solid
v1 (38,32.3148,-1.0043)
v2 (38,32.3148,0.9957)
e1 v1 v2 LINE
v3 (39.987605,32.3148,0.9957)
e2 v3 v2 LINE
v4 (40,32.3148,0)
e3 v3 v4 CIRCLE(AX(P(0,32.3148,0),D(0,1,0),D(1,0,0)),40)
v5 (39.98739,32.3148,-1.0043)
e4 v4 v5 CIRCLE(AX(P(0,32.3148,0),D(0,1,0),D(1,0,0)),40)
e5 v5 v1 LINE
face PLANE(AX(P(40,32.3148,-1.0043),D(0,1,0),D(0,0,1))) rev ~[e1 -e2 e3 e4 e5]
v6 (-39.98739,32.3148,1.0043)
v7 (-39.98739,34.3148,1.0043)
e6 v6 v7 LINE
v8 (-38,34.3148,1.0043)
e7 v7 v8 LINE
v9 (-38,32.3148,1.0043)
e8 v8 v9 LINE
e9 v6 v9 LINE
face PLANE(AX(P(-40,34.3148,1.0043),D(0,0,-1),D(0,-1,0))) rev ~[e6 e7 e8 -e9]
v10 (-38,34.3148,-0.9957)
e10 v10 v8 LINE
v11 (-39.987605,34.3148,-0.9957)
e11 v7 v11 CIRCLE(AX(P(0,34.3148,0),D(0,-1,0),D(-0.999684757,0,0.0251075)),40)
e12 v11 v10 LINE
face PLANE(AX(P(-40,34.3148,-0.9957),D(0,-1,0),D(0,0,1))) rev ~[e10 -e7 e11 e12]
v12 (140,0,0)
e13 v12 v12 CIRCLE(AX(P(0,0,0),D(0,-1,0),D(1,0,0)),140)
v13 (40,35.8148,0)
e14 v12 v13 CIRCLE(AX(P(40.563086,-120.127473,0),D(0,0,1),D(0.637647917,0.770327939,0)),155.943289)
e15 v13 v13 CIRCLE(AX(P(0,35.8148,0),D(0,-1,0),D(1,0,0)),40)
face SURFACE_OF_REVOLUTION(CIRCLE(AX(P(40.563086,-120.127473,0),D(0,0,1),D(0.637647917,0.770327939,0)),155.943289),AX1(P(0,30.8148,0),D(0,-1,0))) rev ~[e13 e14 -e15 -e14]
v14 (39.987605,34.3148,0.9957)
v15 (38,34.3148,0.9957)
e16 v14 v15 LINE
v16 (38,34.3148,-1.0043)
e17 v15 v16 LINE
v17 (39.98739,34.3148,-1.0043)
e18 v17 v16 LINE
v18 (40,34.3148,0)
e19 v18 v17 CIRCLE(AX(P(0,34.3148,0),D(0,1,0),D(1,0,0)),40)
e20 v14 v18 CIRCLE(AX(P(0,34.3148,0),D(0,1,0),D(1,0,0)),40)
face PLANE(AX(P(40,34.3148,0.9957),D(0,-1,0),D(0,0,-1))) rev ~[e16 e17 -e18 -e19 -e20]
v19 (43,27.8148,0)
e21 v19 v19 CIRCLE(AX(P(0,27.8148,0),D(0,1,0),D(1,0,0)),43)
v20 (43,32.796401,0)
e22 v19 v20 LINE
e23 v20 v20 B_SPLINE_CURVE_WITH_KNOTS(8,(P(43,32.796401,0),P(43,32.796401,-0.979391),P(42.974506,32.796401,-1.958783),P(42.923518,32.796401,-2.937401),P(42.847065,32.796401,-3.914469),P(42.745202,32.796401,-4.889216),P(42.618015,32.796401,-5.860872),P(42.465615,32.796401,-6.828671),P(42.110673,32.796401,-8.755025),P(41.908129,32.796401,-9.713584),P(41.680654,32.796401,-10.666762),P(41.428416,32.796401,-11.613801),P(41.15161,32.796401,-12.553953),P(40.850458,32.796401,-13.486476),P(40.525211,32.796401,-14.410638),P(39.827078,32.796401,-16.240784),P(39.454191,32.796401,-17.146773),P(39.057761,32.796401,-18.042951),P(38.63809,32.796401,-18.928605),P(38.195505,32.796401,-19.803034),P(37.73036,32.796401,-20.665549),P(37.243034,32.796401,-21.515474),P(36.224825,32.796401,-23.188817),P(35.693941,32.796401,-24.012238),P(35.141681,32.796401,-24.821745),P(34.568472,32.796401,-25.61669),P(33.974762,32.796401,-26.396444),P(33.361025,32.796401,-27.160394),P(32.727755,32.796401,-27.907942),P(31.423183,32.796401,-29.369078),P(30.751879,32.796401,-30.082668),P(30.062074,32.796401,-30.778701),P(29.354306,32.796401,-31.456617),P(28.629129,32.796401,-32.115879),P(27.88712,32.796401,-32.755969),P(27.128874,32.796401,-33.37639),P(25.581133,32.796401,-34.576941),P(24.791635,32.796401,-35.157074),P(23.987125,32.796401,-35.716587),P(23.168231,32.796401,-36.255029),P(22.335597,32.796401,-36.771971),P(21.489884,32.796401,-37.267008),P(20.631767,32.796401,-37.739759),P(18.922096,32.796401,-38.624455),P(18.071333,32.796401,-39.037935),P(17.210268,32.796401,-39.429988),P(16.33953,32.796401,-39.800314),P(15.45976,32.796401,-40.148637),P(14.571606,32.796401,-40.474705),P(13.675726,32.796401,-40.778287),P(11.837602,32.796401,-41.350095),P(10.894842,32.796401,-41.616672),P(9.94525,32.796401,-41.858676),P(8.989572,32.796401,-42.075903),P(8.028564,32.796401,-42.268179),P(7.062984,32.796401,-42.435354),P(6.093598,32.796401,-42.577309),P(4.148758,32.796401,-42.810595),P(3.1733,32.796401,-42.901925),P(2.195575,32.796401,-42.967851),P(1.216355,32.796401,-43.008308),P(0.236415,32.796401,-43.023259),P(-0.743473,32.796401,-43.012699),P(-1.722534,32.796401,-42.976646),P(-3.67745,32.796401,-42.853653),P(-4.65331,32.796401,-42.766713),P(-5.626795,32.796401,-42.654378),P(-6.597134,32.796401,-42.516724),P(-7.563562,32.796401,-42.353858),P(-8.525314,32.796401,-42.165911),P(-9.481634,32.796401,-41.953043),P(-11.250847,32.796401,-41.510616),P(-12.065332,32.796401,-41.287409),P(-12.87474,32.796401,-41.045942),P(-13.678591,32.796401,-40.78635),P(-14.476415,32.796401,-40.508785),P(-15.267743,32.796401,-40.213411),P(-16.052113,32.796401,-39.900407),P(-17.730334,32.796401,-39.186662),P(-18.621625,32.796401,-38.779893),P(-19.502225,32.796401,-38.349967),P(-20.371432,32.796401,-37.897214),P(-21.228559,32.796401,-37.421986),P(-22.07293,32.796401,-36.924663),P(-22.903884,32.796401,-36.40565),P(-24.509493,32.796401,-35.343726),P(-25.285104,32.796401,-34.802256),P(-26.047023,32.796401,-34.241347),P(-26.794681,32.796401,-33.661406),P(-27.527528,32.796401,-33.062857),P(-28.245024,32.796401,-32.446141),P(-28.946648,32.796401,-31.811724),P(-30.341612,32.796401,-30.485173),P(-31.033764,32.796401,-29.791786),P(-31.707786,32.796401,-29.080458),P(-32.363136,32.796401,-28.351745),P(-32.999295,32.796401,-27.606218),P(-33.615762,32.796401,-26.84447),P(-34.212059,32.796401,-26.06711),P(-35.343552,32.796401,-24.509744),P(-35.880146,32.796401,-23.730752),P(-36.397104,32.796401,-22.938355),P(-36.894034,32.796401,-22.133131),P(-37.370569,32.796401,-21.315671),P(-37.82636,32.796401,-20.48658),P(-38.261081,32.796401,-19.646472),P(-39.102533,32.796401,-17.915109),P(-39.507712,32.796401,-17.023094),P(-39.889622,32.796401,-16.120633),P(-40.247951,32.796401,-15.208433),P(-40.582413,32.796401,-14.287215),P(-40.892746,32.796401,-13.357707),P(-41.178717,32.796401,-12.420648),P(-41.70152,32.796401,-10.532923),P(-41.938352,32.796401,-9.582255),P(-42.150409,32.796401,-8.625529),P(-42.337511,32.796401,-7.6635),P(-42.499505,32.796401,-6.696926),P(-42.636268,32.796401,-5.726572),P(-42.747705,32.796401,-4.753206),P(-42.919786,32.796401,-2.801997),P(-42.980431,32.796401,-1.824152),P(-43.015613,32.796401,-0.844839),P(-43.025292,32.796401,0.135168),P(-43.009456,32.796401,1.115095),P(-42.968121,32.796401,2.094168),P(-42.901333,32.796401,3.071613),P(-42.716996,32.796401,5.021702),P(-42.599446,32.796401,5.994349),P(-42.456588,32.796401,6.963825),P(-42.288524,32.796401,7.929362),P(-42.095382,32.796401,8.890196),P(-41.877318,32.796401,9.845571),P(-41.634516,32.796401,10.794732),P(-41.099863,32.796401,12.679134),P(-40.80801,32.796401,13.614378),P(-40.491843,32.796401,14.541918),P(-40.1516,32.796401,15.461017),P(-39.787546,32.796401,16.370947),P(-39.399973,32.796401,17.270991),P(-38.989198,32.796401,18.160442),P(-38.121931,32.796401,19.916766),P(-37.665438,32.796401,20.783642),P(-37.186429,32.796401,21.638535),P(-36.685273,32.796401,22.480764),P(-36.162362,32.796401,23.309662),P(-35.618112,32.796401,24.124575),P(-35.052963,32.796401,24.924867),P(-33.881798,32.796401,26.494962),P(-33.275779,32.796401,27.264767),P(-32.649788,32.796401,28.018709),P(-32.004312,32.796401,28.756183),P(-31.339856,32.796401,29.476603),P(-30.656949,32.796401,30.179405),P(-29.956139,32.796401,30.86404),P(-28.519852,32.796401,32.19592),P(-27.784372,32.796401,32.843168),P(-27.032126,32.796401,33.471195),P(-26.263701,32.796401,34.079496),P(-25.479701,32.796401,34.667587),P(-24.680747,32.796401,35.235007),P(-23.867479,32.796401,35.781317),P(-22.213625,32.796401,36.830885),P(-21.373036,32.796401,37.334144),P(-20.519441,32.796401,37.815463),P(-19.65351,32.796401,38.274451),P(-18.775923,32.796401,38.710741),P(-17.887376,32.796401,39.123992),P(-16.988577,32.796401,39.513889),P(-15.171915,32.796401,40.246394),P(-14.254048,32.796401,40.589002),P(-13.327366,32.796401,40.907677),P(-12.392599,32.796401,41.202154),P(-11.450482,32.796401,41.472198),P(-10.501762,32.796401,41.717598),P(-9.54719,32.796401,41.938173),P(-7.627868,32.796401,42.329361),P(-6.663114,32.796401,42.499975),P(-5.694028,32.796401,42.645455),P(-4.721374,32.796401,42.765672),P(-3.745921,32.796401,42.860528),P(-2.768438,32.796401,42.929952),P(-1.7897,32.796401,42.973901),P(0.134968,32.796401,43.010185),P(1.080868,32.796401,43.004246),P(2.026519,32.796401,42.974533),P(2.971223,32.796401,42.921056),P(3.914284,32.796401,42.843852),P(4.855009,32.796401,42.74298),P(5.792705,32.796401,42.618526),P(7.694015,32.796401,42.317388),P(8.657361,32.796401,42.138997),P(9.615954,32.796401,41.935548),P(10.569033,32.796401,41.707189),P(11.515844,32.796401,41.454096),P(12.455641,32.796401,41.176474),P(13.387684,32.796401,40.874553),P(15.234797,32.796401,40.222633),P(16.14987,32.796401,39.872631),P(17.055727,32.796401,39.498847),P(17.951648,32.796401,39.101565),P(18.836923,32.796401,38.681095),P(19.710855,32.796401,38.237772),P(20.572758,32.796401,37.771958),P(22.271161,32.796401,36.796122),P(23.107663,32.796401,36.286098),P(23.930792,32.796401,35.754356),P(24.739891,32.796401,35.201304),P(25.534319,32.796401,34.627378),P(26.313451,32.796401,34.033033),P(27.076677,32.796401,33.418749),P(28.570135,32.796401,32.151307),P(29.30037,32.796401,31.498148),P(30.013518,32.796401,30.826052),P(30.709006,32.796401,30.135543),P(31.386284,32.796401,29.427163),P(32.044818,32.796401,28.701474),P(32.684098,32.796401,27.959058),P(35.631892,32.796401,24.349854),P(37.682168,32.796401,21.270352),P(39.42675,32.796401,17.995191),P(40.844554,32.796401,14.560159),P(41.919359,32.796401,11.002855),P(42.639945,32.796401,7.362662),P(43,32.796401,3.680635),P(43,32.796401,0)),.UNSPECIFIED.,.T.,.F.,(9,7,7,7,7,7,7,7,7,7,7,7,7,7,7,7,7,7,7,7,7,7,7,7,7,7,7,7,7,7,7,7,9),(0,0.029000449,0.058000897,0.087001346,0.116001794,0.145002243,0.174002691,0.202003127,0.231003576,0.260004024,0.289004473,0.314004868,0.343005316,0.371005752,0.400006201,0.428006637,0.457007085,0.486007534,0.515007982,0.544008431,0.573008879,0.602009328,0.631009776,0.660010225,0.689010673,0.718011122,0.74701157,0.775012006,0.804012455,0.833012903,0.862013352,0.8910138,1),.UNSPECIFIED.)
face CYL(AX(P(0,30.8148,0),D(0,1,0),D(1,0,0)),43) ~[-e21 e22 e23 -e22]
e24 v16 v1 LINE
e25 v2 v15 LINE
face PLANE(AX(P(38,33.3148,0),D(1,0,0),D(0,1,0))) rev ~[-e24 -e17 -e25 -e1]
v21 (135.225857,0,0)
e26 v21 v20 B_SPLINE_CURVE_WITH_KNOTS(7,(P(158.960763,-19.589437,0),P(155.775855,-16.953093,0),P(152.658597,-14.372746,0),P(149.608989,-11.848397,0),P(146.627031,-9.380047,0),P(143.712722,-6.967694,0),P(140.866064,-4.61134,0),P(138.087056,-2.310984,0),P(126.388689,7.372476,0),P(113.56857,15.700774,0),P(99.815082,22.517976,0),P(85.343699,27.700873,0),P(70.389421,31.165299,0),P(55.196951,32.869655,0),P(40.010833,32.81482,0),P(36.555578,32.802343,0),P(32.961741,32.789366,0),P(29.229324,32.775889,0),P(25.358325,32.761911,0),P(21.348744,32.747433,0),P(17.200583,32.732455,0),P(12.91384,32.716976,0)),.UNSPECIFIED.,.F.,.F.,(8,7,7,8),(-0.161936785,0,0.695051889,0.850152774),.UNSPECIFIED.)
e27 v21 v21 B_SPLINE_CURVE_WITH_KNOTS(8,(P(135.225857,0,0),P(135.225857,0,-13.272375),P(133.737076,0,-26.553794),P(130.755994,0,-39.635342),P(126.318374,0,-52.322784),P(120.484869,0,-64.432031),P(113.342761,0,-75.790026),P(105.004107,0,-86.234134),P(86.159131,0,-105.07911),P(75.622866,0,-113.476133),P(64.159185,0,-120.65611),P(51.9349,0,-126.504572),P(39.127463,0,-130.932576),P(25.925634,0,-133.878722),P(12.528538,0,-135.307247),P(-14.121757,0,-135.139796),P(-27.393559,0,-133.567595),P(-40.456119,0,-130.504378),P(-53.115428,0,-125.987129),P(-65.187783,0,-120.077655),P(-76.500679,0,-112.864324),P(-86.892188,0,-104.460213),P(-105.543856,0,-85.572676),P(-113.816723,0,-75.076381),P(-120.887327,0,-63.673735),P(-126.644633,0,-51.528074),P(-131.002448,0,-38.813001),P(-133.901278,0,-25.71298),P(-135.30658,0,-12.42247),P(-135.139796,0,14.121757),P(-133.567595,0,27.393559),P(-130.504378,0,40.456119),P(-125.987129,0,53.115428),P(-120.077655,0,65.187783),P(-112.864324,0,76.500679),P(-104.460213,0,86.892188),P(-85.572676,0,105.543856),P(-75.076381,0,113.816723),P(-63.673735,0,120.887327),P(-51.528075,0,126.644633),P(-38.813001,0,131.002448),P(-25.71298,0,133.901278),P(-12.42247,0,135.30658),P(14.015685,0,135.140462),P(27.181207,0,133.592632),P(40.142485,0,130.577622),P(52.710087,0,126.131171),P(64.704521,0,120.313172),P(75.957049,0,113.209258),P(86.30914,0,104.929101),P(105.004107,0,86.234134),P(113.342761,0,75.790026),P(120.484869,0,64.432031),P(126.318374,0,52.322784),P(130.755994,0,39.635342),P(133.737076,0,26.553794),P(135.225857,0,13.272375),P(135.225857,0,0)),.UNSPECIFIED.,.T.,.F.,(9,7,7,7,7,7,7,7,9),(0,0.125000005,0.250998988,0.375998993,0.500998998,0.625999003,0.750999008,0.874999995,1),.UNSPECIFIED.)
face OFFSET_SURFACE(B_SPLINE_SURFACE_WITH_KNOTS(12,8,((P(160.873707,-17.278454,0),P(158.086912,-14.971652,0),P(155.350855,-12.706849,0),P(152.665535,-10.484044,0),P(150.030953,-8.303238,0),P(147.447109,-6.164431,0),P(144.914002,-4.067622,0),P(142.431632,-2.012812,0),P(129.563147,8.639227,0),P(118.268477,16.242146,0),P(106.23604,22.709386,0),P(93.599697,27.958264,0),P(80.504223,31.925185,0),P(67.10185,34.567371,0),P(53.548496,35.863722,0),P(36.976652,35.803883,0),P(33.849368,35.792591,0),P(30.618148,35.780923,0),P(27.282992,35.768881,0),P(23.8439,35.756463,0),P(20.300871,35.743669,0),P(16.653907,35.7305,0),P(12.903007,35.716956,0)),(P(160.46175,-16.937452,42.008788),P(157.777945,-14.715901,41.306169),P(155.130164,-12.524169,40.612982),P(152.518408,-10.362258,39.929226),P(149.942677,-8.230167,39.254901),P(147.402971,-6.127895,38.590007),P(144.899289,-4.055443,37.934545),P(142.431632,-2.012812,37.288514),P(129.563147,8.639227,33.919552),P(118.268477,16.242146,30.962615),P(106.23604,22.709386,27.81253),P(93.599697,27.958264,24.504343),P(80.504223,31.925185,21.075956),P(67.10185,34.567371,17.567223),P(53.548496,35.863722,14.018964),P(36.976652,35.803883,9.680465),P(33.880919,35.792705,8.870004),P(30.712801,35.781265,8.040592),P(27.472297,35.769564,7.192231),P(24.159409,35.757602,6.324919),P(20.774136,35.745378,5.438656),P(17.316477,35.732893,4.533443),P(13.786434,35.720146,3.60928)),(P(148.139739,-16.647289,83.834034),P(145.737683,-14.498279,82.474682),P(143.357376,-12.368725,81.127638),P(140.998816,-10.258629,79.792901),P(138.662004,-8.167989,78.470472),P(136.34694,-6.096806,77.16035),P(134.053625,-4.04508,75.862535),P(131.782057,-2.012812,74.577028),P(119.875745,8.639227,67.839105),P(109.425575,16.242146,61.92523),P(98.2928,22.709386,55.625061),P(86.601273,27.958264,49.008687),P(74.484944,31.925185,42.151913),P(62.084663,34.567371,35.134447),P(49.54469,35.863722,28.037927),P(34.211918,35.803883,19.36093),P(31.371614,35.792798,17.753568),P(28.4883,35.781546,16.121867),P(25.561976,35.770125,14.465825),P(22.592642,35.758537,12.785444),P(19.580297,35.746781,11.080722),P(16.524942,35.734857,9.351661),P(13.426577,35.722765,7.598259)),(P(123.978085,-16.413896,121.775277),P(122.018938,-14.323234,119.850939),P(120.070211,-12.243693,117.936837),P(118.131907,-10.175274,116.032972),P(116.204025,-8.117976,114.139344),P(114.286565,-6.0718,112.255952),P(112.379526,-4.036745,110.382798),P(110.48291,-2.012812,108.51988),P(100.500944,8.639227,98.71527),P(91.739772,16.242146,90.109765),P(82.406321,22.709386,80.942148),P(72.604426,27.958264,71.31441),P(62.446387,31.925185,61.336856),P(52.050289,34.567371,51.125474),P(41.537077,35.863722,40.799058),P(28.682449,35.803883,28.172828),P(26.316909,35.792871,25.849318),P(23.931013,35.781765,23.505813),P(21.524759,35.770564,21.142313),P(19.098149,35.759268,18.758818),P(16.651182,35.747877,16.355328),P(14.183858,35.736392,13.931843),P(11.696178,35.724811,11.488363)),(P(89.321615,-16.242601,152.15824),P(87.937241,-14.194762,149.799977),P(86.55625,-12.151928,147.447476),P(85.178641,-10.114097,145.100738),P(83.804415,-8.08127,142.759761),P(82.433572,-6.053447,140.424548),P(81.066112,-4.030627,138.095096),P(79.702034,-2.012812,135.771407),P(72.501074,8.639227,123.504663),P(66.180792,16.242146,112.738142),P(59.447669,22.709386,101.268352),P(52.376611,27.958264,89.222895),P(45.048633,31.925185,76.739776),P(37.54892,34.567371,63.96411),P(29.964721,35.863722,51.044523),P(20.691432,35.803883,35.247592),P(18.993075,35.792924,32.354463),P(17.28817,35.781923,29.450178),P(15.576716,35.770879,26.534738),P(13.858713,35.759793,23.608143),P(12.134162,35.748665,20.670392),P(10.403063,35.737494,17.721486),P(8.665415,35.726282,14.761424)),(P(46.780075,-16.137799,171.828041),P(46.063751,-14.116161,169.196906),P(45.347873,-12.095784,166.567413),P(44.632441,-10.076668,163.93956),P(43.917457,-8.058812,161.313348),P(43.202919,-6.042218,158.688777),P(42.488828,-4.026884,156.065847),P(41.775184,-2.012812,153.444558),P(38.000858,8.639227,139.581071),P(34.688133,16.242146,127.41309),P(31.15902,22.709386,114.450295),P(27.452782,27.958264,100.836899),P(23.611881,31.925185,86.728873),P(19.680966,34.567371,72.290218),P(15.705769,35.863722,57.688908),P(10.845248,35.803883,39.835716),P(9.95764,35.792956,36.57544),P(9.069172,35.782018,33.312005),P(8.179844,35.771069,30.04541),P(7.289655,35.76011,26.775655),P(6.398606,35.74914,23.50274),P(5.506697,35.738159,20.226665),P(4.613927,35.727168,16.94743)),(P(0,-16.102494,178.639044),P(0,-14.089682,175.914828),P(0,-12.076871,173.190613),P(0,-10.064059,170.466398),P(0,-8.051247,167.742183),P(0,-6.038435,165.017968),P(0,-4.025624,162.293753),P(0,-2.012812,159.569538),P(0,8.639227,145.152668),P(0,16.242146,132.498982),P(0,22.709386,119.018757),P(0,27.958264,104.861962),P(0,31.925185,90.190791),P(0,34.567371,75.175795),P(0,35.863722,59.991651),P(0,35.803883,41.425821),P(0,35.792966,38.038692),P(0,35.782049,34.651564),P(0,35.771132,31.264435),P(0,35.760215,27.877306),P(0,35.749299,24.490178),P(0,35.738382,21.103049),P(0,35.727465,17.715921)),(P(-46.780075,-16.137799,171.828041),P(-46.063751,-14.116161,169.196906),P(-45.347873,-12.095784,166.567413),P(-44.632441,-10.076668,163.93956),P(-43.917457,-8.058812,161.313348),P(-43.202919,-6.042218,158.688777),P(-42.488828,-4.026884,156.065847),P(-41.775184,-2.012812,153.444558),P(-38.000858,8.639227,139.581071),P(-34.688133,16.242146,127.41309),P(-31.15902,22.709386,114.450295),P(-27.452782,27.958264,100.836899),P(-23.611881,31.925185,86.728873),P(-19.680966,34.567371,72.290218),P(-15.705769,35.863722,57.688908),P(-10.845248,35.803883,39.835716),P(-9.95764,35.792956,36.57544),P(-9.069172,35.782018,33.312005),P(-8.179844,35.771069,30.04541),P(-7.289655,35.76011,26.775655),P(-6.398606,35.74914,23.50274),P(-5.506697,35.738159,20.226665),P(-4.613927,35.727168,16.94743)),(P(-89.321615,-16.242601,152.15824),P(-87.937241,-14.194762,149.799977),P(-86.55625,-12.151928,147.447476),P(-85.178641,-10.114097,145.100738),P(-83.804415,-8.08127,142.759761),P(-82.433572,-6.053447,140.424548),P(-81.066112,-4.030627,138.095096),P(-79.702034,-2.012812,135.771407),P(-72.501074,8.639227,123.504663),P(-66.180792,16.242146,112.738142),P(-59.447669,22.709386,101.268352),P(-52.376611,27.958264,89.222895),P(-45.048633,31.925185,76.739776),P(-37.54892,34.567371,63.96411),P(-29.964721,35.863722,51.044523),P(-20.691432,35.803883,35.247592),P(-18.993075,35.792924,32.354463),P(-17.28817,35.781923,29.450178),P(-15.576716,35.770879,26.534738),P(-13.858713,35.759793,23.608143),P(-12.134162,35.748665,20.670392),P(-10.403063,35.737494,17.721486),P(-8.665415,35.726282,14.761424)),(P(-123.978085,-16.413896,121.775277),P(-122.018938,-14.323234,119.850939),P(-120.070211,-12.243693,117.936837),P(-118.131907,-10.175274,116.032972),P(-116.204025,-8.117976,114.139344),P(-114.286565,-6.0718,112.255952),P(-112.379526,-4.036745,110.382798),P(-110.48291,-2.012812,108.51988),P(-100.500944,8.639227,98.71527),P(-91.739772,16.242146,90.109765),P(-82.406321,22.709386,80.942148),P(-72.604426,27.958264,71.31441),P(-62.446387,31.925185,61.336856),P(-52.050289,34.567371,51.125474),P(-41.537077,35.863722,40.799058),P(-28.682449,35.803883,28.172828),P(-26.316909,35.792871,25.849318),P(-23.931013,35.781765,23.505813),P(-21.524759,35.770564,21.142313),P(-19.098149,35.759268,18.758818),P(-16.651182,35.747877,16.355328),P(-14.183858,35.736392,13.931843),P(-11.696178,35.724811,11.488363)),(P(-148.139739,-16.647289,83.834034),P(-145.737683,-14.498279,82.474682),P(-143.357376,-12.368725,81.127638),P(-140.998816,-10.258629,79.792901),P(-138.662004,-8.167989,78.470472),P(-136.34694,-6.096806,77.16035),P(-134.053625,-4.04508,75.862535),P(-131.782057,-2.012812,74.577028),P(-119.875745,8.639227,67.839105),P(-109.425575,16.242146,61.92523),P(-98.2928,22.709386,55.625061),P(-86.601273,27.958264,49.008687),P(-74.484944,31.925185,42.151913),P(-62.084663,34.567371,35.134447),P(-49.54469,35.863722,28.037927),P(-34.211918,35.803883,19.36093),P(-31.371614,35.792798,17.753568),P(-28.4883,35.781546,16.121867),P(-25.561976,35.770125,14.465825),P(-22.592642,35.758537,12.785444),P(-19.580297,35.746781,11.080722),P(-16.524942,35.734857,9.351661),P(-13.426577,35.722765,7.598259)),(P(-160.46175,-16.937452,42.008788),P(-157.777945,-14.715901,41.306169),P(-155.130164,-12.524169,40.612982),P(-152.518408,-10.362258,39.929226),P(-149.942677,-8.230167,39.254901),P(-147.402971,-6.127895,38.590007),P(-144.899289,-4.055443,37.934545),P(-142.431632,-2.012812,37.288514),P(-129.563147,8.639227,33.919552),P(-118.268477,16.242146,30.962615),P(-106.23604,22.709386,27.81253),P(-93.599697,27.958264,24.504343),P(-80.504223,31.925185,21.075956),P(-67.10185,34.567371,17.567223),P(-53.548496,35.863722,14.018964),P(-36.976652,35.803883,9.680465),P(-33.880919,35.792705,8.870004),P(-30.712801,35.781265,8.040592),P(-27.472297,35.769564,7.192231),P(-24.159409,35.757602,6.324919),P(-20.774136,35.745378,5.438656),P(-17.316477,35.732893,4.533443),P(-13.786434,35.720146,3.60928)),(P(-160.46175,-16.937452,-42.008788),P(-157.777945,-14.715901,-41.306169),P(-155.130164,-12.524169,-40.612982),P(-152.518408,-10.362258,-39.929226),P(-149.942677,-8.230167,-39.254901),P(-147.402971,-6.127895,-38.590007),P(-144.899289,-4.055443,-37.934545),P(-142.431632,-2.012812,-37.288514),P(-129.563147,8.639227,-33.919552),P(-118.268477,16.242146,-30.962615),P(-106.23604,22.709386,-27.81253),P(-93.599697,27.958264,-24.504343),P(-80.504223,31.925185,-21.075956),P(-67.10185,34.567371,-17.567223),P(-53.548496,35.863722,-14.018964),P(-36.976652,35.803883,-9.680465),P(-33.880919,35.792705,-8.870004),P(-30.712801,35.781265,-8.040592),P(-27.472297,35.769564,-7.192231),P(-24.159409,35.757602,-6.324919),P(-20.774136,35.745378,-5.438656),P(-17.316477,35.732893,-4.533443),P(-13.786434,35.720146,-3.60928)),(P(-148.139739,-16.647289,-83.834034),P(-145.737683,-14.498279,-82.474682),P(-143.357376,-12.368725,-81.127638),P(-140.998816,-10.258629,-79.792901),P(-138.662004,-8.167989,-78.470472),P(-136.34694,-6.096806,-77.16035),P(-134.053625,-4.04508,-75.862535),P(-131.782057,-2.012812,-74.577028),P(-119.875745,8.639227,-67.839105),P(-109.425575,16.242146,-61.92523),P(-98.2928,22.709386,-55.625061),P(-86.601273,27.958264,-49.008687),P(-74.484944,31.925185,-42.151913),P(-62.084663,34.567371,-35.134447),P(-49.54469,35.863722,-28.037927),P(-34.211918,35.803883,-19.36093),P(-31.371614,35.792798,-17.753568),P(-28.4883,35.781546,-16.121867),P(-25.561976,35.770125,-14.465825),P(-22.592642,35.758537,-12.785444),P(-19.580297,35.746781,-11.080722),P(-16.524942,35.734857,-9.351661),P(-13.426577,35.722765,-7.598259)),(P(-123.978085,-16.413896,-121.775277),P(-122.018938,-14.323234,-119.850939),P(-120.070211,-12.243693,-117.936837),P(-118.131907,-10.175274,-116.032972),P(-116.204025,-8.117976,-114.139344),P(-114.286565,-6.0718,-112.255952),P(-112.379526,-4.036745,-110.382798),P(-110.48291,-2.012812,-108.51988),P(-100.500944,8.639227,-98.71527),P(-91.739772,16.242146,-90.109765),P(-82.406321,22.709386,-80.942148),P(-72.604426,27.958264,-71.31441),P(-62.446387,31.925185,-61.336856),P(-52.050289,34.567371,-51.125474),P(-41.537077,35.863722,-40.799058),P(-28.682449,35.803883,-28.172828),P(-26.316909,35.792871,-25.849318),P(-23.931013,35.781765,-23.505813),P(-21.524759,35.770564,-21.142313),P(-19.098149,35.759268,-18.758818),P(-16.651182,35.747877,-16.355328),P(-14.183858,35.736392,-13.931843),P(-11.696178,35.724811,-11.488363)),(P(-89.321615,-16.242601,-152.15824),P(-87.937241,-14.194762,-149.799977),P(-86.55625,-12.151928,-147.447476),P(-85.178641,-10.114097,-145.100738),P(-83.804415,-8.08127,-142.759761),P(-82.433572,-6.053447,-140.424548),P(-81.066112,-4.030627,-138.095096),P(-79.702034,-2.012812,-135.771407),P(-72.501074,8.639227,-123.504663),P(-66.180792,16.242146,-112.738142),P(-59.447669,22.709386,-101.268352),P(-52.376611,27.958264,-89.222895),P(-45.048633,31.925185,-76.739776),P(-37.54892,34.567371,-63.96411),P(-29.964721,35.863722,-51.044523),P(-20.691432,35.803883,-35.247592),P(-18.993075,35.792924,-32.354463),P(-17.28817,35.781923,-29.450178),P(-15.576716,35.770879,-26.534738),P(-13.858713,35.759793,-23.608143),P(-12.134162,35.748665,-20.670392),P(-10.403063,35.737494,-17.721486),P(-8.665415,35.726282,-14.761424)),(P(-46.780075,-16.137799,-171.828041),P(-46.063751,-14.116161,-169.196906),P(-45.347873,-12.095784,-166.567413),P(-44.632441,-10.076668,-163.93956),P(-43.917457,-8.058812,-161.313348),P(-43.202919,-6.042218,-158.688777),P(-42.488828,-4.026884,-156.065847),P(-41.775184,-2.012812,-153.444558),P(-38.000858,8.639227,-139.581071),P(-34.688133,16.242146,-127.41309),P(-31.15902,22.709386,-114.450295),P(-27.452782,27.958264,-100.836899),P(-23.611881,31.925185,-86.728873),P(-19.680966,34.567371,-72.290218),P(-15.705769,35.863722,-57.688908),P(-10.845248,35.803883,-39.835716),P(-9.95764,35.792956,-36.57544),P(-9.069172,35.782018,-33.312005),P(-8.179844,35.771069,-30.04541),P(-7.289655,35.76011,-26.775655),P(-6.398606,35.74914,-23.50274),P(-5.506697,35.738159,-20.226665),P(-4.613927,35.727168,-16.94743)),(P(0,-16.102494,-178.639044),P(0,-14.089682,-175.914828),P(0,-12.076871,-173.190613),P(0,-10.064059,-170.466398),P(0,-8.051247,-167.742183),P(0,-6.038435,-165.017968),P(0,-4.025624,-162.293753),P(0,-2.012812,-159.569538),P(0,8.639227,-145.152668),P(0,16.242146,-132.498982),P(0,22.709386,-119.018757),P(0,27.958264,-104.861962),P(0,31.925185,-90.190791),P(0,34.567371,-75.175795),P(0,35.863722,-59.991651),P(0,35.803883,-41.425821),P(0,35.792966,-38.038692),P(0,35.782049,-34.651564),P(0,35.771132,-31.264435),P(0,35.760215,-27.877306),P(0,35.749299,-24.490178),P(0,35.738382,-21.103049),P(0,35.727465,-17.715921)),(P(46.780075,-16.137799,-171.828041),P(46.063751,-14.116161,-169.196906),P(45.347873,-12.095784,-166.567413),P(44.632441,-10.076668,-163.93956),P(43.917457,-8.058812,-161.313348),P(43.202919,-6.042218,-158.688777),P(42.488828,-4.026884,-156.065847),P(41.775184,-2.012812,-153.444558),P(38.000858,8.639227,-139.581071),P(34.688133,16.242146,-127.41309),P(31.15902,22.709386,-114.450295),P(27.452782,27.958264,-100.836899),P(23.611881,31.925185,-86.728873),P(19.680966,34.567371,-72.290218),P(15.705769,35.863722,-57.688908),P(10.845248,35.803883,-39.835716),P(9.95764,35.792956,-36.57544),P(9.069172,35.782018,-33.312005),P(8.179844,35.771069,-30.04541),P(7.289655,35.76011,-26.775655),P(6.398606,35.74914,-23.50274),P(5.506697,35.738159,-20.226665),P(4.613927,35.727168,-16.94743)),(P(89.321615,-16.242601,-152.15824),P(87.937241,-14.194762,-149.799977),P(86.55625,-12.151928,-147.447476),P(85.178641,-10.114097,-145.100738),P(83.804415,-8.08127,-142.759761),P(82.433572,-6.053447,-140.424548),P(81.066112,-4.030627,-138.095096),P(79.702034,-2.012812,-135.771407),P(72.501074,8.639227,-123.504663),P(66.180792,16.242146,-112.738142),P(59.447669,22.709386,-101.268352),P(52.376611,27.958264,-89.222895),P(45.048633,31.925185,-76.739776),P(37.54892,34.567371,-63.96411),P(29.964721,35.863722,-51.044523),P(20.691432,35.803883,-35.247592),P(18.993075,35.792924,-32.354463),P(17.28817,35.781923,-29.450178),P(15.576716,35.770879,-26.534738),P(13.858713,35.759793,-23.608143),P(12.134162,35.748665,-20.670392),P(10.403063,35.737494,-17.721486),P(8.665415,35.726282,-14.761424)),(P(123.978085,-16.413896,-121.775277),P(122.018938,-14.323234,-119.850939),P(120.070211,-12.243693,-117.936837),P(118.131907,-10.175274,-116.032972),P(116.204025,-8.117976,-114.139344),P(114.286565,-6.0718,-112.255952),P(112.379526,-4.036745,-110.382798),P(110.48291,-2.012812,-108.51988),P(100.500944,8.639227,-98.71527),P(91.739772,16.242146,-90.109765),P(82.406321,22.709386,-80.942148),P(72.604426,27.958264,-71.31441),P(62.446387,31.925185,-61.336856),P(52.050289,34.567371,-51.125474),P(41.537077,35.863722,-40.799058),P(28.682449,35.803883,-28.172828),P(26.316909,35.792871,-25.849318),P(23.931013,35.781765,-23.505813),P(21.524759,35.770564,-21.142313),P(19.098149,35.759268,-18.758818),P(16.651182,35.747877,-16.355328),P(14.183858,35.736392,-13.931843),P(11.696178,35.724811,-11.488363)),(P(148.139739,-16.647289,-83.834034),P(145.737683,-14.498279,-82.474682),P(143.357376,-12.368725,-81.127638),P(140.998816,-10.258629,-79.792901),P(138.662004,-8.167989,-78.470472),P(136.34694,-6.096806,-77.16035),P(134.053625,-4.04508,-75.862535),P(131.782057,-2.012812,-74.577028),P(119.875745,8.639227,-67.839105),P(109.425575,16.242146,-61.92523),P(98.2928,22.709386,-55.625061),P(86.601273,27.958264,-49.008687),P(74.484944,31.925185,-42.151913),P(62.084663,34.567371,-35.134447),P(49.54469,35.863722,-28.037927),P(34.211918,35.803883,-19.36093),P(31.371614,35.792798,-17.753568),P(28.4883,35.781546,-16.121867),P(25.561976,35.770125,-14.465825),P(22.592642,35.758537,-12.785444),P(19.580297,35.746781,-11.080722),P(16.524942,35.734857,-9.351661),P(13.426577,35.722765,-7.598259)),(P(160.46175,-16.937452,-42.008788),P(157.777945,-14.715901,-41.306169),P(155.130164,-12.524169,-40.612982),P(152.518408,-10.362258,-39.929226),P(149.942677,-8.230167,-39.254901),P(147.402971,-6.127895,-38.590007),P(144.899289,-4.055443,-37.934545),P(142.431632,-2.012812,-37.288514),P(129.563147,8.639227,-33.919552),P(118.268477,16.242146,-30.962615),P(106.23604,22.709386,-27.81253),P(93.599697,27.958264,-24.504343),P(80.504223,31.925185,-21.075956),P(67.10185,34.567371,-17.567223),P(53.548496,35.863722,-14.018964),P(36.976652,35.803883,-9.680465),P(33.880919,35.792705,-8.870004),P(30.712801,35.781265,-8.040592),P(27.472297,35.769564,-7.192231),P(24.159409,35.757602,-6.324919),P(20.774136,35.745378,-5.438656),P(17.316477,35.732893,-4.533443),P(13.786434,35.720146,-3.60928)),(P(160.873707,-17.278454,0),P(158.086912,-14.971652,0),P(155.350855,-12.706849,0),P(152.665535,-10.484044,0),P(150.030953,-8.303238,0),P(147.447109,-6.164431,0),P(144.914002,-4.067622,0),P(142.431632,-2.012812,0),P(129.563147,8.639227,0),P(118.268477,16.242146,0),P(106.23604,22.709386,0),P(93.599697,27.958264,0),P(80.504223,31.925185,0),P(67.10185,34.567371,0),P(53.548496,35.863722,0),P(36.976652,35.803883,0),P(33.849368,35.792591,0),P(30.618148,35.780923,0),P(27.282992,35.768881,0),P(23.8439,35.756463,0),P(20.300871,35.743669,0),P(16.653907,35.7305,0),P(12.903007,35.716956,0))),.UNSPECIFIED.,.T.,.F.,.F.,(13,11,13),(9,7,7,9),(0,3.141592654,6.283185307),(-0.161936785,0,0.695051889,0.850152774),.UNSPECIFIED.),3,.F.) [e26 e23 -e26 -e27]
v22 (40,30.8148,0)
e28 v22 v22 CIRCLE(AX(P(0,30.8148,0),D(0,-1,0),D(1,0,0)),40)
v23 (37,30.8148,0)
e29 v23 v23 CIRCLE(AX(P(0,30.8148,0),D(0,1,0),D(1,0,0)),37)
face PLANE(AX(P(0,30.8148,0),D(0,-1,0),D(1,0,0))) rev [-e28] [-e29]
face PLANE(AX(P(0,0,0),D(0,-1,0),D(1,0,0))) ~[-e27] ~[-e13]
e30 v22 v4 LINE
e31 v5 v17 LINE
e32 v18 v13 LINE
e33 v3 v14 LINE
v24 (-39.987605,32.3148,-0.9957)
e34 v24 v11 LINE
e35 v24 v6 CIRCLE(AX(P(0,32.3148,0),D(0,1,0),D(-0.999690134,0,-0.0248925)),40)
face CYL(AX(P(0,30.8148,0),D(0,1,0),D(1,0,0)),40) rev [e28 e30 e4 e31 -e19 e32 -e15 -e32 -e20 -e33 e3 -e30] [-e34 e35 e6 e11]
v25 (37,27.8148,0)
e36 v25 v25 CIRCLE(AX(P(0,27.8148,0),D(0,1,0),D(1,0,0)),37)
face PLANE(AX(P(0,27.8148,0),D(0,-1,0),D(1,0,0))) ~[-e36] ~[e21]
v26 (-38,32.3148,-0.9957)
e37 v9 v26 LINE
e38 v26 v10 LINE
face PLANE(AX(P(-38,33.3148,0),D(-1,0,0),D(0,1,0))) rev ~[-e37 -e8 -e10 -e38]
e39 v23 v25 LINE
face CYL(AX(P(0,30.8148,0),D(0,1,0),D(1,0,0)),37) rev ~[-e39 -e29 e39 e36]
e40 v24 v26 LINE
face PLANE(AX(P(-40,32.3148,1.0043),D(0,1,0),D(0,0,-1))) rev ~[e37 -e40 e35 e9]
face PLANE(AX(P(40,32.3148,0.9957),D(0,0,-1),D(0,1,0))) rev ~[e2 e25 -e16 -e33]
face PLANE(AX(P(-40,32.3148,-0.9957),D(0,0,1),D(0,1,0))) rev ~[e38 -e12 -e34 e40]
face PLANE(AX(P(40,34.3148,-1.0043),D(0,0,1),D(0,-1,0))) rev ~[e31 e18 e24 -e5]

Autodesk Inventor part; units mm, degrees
ref_plane "XZ Plane" through (0, 0, 0) normal (0, 1, 0) x (-1, 0, 0)
ref_plane "XY Plane" through (0, 0, 0) normal (0, 0, 1) x (1, 0, 0)
sketch "Sketch1" plane through (0, 0, 0) normal (0, 0, 1) x (1, 0, 0)
  line L0 (0, 30.8148) -> (40, 30.8148)
  line L1 (40, 30.8148) -> (40, 35.8148)
  line L2 (0, 30.8148) -> (0, 0)
  line L3 (0, 0) -> (140, 0)
  arc A0 (140, 0) -> (40, 35.8148) centre (40.5629, -120.1278) ccw
  dimension "d0" = 40
  dimension "d1" = 5
  dimension "d2" = 140
revolve "Revolution1" add sketch "Sketch1" angle 360 about axis through (0, 30.8148, 0) along (0, -1, 0)
shell "Shell1" thickness 3 removed faces 1 at (22.2847, 0, -49.1516)
sketch "Sketch2" plane through (0, 30.8148, 0) normal (0, 1, 0) x (1, 0, 0)
  circle A0 centre (0, 0) radius 37
  dimension "d5" = 74
extrude "Extrusion1" cut sketch "Sketch2" against normal through all
ref_plane "Work Plane1" through (40, 33.3148, 0) normal (1, 0, 0) x (0, 1, 0)
sketch "Sketch4" plane through (40, 33.3148, 0) normal (1, 0, 0) x (0, 1, 0)
  line L0 (1, -1.0043) -> (-1, -1.0043)
  line L1 (-1, -1.0043) -> (-1, 0.9957)
  line L2 (-1, 0.9957) -> (1, 0.9957)
  line L3 (1, 0.9957) -> (1, -1.0043)
  line L4 (-2.5, 40) -> (-2.5, -40) projected
  point P0 (-33.3148, 0)
  dimension "d8" = 2
  dimension "d9" = 2
  dimension "d10" = 1.5
extrude "Extrusion2" add sketch "Sketch4" against normal blind 2
pattern_circular "Circular Pattern1" count 2 over 360 about axis through (0, 30.8148, 0) along (0, -1, 0) of "Extrusion2"
equation "\"d9\" = d8"
properties part number "topplock"
